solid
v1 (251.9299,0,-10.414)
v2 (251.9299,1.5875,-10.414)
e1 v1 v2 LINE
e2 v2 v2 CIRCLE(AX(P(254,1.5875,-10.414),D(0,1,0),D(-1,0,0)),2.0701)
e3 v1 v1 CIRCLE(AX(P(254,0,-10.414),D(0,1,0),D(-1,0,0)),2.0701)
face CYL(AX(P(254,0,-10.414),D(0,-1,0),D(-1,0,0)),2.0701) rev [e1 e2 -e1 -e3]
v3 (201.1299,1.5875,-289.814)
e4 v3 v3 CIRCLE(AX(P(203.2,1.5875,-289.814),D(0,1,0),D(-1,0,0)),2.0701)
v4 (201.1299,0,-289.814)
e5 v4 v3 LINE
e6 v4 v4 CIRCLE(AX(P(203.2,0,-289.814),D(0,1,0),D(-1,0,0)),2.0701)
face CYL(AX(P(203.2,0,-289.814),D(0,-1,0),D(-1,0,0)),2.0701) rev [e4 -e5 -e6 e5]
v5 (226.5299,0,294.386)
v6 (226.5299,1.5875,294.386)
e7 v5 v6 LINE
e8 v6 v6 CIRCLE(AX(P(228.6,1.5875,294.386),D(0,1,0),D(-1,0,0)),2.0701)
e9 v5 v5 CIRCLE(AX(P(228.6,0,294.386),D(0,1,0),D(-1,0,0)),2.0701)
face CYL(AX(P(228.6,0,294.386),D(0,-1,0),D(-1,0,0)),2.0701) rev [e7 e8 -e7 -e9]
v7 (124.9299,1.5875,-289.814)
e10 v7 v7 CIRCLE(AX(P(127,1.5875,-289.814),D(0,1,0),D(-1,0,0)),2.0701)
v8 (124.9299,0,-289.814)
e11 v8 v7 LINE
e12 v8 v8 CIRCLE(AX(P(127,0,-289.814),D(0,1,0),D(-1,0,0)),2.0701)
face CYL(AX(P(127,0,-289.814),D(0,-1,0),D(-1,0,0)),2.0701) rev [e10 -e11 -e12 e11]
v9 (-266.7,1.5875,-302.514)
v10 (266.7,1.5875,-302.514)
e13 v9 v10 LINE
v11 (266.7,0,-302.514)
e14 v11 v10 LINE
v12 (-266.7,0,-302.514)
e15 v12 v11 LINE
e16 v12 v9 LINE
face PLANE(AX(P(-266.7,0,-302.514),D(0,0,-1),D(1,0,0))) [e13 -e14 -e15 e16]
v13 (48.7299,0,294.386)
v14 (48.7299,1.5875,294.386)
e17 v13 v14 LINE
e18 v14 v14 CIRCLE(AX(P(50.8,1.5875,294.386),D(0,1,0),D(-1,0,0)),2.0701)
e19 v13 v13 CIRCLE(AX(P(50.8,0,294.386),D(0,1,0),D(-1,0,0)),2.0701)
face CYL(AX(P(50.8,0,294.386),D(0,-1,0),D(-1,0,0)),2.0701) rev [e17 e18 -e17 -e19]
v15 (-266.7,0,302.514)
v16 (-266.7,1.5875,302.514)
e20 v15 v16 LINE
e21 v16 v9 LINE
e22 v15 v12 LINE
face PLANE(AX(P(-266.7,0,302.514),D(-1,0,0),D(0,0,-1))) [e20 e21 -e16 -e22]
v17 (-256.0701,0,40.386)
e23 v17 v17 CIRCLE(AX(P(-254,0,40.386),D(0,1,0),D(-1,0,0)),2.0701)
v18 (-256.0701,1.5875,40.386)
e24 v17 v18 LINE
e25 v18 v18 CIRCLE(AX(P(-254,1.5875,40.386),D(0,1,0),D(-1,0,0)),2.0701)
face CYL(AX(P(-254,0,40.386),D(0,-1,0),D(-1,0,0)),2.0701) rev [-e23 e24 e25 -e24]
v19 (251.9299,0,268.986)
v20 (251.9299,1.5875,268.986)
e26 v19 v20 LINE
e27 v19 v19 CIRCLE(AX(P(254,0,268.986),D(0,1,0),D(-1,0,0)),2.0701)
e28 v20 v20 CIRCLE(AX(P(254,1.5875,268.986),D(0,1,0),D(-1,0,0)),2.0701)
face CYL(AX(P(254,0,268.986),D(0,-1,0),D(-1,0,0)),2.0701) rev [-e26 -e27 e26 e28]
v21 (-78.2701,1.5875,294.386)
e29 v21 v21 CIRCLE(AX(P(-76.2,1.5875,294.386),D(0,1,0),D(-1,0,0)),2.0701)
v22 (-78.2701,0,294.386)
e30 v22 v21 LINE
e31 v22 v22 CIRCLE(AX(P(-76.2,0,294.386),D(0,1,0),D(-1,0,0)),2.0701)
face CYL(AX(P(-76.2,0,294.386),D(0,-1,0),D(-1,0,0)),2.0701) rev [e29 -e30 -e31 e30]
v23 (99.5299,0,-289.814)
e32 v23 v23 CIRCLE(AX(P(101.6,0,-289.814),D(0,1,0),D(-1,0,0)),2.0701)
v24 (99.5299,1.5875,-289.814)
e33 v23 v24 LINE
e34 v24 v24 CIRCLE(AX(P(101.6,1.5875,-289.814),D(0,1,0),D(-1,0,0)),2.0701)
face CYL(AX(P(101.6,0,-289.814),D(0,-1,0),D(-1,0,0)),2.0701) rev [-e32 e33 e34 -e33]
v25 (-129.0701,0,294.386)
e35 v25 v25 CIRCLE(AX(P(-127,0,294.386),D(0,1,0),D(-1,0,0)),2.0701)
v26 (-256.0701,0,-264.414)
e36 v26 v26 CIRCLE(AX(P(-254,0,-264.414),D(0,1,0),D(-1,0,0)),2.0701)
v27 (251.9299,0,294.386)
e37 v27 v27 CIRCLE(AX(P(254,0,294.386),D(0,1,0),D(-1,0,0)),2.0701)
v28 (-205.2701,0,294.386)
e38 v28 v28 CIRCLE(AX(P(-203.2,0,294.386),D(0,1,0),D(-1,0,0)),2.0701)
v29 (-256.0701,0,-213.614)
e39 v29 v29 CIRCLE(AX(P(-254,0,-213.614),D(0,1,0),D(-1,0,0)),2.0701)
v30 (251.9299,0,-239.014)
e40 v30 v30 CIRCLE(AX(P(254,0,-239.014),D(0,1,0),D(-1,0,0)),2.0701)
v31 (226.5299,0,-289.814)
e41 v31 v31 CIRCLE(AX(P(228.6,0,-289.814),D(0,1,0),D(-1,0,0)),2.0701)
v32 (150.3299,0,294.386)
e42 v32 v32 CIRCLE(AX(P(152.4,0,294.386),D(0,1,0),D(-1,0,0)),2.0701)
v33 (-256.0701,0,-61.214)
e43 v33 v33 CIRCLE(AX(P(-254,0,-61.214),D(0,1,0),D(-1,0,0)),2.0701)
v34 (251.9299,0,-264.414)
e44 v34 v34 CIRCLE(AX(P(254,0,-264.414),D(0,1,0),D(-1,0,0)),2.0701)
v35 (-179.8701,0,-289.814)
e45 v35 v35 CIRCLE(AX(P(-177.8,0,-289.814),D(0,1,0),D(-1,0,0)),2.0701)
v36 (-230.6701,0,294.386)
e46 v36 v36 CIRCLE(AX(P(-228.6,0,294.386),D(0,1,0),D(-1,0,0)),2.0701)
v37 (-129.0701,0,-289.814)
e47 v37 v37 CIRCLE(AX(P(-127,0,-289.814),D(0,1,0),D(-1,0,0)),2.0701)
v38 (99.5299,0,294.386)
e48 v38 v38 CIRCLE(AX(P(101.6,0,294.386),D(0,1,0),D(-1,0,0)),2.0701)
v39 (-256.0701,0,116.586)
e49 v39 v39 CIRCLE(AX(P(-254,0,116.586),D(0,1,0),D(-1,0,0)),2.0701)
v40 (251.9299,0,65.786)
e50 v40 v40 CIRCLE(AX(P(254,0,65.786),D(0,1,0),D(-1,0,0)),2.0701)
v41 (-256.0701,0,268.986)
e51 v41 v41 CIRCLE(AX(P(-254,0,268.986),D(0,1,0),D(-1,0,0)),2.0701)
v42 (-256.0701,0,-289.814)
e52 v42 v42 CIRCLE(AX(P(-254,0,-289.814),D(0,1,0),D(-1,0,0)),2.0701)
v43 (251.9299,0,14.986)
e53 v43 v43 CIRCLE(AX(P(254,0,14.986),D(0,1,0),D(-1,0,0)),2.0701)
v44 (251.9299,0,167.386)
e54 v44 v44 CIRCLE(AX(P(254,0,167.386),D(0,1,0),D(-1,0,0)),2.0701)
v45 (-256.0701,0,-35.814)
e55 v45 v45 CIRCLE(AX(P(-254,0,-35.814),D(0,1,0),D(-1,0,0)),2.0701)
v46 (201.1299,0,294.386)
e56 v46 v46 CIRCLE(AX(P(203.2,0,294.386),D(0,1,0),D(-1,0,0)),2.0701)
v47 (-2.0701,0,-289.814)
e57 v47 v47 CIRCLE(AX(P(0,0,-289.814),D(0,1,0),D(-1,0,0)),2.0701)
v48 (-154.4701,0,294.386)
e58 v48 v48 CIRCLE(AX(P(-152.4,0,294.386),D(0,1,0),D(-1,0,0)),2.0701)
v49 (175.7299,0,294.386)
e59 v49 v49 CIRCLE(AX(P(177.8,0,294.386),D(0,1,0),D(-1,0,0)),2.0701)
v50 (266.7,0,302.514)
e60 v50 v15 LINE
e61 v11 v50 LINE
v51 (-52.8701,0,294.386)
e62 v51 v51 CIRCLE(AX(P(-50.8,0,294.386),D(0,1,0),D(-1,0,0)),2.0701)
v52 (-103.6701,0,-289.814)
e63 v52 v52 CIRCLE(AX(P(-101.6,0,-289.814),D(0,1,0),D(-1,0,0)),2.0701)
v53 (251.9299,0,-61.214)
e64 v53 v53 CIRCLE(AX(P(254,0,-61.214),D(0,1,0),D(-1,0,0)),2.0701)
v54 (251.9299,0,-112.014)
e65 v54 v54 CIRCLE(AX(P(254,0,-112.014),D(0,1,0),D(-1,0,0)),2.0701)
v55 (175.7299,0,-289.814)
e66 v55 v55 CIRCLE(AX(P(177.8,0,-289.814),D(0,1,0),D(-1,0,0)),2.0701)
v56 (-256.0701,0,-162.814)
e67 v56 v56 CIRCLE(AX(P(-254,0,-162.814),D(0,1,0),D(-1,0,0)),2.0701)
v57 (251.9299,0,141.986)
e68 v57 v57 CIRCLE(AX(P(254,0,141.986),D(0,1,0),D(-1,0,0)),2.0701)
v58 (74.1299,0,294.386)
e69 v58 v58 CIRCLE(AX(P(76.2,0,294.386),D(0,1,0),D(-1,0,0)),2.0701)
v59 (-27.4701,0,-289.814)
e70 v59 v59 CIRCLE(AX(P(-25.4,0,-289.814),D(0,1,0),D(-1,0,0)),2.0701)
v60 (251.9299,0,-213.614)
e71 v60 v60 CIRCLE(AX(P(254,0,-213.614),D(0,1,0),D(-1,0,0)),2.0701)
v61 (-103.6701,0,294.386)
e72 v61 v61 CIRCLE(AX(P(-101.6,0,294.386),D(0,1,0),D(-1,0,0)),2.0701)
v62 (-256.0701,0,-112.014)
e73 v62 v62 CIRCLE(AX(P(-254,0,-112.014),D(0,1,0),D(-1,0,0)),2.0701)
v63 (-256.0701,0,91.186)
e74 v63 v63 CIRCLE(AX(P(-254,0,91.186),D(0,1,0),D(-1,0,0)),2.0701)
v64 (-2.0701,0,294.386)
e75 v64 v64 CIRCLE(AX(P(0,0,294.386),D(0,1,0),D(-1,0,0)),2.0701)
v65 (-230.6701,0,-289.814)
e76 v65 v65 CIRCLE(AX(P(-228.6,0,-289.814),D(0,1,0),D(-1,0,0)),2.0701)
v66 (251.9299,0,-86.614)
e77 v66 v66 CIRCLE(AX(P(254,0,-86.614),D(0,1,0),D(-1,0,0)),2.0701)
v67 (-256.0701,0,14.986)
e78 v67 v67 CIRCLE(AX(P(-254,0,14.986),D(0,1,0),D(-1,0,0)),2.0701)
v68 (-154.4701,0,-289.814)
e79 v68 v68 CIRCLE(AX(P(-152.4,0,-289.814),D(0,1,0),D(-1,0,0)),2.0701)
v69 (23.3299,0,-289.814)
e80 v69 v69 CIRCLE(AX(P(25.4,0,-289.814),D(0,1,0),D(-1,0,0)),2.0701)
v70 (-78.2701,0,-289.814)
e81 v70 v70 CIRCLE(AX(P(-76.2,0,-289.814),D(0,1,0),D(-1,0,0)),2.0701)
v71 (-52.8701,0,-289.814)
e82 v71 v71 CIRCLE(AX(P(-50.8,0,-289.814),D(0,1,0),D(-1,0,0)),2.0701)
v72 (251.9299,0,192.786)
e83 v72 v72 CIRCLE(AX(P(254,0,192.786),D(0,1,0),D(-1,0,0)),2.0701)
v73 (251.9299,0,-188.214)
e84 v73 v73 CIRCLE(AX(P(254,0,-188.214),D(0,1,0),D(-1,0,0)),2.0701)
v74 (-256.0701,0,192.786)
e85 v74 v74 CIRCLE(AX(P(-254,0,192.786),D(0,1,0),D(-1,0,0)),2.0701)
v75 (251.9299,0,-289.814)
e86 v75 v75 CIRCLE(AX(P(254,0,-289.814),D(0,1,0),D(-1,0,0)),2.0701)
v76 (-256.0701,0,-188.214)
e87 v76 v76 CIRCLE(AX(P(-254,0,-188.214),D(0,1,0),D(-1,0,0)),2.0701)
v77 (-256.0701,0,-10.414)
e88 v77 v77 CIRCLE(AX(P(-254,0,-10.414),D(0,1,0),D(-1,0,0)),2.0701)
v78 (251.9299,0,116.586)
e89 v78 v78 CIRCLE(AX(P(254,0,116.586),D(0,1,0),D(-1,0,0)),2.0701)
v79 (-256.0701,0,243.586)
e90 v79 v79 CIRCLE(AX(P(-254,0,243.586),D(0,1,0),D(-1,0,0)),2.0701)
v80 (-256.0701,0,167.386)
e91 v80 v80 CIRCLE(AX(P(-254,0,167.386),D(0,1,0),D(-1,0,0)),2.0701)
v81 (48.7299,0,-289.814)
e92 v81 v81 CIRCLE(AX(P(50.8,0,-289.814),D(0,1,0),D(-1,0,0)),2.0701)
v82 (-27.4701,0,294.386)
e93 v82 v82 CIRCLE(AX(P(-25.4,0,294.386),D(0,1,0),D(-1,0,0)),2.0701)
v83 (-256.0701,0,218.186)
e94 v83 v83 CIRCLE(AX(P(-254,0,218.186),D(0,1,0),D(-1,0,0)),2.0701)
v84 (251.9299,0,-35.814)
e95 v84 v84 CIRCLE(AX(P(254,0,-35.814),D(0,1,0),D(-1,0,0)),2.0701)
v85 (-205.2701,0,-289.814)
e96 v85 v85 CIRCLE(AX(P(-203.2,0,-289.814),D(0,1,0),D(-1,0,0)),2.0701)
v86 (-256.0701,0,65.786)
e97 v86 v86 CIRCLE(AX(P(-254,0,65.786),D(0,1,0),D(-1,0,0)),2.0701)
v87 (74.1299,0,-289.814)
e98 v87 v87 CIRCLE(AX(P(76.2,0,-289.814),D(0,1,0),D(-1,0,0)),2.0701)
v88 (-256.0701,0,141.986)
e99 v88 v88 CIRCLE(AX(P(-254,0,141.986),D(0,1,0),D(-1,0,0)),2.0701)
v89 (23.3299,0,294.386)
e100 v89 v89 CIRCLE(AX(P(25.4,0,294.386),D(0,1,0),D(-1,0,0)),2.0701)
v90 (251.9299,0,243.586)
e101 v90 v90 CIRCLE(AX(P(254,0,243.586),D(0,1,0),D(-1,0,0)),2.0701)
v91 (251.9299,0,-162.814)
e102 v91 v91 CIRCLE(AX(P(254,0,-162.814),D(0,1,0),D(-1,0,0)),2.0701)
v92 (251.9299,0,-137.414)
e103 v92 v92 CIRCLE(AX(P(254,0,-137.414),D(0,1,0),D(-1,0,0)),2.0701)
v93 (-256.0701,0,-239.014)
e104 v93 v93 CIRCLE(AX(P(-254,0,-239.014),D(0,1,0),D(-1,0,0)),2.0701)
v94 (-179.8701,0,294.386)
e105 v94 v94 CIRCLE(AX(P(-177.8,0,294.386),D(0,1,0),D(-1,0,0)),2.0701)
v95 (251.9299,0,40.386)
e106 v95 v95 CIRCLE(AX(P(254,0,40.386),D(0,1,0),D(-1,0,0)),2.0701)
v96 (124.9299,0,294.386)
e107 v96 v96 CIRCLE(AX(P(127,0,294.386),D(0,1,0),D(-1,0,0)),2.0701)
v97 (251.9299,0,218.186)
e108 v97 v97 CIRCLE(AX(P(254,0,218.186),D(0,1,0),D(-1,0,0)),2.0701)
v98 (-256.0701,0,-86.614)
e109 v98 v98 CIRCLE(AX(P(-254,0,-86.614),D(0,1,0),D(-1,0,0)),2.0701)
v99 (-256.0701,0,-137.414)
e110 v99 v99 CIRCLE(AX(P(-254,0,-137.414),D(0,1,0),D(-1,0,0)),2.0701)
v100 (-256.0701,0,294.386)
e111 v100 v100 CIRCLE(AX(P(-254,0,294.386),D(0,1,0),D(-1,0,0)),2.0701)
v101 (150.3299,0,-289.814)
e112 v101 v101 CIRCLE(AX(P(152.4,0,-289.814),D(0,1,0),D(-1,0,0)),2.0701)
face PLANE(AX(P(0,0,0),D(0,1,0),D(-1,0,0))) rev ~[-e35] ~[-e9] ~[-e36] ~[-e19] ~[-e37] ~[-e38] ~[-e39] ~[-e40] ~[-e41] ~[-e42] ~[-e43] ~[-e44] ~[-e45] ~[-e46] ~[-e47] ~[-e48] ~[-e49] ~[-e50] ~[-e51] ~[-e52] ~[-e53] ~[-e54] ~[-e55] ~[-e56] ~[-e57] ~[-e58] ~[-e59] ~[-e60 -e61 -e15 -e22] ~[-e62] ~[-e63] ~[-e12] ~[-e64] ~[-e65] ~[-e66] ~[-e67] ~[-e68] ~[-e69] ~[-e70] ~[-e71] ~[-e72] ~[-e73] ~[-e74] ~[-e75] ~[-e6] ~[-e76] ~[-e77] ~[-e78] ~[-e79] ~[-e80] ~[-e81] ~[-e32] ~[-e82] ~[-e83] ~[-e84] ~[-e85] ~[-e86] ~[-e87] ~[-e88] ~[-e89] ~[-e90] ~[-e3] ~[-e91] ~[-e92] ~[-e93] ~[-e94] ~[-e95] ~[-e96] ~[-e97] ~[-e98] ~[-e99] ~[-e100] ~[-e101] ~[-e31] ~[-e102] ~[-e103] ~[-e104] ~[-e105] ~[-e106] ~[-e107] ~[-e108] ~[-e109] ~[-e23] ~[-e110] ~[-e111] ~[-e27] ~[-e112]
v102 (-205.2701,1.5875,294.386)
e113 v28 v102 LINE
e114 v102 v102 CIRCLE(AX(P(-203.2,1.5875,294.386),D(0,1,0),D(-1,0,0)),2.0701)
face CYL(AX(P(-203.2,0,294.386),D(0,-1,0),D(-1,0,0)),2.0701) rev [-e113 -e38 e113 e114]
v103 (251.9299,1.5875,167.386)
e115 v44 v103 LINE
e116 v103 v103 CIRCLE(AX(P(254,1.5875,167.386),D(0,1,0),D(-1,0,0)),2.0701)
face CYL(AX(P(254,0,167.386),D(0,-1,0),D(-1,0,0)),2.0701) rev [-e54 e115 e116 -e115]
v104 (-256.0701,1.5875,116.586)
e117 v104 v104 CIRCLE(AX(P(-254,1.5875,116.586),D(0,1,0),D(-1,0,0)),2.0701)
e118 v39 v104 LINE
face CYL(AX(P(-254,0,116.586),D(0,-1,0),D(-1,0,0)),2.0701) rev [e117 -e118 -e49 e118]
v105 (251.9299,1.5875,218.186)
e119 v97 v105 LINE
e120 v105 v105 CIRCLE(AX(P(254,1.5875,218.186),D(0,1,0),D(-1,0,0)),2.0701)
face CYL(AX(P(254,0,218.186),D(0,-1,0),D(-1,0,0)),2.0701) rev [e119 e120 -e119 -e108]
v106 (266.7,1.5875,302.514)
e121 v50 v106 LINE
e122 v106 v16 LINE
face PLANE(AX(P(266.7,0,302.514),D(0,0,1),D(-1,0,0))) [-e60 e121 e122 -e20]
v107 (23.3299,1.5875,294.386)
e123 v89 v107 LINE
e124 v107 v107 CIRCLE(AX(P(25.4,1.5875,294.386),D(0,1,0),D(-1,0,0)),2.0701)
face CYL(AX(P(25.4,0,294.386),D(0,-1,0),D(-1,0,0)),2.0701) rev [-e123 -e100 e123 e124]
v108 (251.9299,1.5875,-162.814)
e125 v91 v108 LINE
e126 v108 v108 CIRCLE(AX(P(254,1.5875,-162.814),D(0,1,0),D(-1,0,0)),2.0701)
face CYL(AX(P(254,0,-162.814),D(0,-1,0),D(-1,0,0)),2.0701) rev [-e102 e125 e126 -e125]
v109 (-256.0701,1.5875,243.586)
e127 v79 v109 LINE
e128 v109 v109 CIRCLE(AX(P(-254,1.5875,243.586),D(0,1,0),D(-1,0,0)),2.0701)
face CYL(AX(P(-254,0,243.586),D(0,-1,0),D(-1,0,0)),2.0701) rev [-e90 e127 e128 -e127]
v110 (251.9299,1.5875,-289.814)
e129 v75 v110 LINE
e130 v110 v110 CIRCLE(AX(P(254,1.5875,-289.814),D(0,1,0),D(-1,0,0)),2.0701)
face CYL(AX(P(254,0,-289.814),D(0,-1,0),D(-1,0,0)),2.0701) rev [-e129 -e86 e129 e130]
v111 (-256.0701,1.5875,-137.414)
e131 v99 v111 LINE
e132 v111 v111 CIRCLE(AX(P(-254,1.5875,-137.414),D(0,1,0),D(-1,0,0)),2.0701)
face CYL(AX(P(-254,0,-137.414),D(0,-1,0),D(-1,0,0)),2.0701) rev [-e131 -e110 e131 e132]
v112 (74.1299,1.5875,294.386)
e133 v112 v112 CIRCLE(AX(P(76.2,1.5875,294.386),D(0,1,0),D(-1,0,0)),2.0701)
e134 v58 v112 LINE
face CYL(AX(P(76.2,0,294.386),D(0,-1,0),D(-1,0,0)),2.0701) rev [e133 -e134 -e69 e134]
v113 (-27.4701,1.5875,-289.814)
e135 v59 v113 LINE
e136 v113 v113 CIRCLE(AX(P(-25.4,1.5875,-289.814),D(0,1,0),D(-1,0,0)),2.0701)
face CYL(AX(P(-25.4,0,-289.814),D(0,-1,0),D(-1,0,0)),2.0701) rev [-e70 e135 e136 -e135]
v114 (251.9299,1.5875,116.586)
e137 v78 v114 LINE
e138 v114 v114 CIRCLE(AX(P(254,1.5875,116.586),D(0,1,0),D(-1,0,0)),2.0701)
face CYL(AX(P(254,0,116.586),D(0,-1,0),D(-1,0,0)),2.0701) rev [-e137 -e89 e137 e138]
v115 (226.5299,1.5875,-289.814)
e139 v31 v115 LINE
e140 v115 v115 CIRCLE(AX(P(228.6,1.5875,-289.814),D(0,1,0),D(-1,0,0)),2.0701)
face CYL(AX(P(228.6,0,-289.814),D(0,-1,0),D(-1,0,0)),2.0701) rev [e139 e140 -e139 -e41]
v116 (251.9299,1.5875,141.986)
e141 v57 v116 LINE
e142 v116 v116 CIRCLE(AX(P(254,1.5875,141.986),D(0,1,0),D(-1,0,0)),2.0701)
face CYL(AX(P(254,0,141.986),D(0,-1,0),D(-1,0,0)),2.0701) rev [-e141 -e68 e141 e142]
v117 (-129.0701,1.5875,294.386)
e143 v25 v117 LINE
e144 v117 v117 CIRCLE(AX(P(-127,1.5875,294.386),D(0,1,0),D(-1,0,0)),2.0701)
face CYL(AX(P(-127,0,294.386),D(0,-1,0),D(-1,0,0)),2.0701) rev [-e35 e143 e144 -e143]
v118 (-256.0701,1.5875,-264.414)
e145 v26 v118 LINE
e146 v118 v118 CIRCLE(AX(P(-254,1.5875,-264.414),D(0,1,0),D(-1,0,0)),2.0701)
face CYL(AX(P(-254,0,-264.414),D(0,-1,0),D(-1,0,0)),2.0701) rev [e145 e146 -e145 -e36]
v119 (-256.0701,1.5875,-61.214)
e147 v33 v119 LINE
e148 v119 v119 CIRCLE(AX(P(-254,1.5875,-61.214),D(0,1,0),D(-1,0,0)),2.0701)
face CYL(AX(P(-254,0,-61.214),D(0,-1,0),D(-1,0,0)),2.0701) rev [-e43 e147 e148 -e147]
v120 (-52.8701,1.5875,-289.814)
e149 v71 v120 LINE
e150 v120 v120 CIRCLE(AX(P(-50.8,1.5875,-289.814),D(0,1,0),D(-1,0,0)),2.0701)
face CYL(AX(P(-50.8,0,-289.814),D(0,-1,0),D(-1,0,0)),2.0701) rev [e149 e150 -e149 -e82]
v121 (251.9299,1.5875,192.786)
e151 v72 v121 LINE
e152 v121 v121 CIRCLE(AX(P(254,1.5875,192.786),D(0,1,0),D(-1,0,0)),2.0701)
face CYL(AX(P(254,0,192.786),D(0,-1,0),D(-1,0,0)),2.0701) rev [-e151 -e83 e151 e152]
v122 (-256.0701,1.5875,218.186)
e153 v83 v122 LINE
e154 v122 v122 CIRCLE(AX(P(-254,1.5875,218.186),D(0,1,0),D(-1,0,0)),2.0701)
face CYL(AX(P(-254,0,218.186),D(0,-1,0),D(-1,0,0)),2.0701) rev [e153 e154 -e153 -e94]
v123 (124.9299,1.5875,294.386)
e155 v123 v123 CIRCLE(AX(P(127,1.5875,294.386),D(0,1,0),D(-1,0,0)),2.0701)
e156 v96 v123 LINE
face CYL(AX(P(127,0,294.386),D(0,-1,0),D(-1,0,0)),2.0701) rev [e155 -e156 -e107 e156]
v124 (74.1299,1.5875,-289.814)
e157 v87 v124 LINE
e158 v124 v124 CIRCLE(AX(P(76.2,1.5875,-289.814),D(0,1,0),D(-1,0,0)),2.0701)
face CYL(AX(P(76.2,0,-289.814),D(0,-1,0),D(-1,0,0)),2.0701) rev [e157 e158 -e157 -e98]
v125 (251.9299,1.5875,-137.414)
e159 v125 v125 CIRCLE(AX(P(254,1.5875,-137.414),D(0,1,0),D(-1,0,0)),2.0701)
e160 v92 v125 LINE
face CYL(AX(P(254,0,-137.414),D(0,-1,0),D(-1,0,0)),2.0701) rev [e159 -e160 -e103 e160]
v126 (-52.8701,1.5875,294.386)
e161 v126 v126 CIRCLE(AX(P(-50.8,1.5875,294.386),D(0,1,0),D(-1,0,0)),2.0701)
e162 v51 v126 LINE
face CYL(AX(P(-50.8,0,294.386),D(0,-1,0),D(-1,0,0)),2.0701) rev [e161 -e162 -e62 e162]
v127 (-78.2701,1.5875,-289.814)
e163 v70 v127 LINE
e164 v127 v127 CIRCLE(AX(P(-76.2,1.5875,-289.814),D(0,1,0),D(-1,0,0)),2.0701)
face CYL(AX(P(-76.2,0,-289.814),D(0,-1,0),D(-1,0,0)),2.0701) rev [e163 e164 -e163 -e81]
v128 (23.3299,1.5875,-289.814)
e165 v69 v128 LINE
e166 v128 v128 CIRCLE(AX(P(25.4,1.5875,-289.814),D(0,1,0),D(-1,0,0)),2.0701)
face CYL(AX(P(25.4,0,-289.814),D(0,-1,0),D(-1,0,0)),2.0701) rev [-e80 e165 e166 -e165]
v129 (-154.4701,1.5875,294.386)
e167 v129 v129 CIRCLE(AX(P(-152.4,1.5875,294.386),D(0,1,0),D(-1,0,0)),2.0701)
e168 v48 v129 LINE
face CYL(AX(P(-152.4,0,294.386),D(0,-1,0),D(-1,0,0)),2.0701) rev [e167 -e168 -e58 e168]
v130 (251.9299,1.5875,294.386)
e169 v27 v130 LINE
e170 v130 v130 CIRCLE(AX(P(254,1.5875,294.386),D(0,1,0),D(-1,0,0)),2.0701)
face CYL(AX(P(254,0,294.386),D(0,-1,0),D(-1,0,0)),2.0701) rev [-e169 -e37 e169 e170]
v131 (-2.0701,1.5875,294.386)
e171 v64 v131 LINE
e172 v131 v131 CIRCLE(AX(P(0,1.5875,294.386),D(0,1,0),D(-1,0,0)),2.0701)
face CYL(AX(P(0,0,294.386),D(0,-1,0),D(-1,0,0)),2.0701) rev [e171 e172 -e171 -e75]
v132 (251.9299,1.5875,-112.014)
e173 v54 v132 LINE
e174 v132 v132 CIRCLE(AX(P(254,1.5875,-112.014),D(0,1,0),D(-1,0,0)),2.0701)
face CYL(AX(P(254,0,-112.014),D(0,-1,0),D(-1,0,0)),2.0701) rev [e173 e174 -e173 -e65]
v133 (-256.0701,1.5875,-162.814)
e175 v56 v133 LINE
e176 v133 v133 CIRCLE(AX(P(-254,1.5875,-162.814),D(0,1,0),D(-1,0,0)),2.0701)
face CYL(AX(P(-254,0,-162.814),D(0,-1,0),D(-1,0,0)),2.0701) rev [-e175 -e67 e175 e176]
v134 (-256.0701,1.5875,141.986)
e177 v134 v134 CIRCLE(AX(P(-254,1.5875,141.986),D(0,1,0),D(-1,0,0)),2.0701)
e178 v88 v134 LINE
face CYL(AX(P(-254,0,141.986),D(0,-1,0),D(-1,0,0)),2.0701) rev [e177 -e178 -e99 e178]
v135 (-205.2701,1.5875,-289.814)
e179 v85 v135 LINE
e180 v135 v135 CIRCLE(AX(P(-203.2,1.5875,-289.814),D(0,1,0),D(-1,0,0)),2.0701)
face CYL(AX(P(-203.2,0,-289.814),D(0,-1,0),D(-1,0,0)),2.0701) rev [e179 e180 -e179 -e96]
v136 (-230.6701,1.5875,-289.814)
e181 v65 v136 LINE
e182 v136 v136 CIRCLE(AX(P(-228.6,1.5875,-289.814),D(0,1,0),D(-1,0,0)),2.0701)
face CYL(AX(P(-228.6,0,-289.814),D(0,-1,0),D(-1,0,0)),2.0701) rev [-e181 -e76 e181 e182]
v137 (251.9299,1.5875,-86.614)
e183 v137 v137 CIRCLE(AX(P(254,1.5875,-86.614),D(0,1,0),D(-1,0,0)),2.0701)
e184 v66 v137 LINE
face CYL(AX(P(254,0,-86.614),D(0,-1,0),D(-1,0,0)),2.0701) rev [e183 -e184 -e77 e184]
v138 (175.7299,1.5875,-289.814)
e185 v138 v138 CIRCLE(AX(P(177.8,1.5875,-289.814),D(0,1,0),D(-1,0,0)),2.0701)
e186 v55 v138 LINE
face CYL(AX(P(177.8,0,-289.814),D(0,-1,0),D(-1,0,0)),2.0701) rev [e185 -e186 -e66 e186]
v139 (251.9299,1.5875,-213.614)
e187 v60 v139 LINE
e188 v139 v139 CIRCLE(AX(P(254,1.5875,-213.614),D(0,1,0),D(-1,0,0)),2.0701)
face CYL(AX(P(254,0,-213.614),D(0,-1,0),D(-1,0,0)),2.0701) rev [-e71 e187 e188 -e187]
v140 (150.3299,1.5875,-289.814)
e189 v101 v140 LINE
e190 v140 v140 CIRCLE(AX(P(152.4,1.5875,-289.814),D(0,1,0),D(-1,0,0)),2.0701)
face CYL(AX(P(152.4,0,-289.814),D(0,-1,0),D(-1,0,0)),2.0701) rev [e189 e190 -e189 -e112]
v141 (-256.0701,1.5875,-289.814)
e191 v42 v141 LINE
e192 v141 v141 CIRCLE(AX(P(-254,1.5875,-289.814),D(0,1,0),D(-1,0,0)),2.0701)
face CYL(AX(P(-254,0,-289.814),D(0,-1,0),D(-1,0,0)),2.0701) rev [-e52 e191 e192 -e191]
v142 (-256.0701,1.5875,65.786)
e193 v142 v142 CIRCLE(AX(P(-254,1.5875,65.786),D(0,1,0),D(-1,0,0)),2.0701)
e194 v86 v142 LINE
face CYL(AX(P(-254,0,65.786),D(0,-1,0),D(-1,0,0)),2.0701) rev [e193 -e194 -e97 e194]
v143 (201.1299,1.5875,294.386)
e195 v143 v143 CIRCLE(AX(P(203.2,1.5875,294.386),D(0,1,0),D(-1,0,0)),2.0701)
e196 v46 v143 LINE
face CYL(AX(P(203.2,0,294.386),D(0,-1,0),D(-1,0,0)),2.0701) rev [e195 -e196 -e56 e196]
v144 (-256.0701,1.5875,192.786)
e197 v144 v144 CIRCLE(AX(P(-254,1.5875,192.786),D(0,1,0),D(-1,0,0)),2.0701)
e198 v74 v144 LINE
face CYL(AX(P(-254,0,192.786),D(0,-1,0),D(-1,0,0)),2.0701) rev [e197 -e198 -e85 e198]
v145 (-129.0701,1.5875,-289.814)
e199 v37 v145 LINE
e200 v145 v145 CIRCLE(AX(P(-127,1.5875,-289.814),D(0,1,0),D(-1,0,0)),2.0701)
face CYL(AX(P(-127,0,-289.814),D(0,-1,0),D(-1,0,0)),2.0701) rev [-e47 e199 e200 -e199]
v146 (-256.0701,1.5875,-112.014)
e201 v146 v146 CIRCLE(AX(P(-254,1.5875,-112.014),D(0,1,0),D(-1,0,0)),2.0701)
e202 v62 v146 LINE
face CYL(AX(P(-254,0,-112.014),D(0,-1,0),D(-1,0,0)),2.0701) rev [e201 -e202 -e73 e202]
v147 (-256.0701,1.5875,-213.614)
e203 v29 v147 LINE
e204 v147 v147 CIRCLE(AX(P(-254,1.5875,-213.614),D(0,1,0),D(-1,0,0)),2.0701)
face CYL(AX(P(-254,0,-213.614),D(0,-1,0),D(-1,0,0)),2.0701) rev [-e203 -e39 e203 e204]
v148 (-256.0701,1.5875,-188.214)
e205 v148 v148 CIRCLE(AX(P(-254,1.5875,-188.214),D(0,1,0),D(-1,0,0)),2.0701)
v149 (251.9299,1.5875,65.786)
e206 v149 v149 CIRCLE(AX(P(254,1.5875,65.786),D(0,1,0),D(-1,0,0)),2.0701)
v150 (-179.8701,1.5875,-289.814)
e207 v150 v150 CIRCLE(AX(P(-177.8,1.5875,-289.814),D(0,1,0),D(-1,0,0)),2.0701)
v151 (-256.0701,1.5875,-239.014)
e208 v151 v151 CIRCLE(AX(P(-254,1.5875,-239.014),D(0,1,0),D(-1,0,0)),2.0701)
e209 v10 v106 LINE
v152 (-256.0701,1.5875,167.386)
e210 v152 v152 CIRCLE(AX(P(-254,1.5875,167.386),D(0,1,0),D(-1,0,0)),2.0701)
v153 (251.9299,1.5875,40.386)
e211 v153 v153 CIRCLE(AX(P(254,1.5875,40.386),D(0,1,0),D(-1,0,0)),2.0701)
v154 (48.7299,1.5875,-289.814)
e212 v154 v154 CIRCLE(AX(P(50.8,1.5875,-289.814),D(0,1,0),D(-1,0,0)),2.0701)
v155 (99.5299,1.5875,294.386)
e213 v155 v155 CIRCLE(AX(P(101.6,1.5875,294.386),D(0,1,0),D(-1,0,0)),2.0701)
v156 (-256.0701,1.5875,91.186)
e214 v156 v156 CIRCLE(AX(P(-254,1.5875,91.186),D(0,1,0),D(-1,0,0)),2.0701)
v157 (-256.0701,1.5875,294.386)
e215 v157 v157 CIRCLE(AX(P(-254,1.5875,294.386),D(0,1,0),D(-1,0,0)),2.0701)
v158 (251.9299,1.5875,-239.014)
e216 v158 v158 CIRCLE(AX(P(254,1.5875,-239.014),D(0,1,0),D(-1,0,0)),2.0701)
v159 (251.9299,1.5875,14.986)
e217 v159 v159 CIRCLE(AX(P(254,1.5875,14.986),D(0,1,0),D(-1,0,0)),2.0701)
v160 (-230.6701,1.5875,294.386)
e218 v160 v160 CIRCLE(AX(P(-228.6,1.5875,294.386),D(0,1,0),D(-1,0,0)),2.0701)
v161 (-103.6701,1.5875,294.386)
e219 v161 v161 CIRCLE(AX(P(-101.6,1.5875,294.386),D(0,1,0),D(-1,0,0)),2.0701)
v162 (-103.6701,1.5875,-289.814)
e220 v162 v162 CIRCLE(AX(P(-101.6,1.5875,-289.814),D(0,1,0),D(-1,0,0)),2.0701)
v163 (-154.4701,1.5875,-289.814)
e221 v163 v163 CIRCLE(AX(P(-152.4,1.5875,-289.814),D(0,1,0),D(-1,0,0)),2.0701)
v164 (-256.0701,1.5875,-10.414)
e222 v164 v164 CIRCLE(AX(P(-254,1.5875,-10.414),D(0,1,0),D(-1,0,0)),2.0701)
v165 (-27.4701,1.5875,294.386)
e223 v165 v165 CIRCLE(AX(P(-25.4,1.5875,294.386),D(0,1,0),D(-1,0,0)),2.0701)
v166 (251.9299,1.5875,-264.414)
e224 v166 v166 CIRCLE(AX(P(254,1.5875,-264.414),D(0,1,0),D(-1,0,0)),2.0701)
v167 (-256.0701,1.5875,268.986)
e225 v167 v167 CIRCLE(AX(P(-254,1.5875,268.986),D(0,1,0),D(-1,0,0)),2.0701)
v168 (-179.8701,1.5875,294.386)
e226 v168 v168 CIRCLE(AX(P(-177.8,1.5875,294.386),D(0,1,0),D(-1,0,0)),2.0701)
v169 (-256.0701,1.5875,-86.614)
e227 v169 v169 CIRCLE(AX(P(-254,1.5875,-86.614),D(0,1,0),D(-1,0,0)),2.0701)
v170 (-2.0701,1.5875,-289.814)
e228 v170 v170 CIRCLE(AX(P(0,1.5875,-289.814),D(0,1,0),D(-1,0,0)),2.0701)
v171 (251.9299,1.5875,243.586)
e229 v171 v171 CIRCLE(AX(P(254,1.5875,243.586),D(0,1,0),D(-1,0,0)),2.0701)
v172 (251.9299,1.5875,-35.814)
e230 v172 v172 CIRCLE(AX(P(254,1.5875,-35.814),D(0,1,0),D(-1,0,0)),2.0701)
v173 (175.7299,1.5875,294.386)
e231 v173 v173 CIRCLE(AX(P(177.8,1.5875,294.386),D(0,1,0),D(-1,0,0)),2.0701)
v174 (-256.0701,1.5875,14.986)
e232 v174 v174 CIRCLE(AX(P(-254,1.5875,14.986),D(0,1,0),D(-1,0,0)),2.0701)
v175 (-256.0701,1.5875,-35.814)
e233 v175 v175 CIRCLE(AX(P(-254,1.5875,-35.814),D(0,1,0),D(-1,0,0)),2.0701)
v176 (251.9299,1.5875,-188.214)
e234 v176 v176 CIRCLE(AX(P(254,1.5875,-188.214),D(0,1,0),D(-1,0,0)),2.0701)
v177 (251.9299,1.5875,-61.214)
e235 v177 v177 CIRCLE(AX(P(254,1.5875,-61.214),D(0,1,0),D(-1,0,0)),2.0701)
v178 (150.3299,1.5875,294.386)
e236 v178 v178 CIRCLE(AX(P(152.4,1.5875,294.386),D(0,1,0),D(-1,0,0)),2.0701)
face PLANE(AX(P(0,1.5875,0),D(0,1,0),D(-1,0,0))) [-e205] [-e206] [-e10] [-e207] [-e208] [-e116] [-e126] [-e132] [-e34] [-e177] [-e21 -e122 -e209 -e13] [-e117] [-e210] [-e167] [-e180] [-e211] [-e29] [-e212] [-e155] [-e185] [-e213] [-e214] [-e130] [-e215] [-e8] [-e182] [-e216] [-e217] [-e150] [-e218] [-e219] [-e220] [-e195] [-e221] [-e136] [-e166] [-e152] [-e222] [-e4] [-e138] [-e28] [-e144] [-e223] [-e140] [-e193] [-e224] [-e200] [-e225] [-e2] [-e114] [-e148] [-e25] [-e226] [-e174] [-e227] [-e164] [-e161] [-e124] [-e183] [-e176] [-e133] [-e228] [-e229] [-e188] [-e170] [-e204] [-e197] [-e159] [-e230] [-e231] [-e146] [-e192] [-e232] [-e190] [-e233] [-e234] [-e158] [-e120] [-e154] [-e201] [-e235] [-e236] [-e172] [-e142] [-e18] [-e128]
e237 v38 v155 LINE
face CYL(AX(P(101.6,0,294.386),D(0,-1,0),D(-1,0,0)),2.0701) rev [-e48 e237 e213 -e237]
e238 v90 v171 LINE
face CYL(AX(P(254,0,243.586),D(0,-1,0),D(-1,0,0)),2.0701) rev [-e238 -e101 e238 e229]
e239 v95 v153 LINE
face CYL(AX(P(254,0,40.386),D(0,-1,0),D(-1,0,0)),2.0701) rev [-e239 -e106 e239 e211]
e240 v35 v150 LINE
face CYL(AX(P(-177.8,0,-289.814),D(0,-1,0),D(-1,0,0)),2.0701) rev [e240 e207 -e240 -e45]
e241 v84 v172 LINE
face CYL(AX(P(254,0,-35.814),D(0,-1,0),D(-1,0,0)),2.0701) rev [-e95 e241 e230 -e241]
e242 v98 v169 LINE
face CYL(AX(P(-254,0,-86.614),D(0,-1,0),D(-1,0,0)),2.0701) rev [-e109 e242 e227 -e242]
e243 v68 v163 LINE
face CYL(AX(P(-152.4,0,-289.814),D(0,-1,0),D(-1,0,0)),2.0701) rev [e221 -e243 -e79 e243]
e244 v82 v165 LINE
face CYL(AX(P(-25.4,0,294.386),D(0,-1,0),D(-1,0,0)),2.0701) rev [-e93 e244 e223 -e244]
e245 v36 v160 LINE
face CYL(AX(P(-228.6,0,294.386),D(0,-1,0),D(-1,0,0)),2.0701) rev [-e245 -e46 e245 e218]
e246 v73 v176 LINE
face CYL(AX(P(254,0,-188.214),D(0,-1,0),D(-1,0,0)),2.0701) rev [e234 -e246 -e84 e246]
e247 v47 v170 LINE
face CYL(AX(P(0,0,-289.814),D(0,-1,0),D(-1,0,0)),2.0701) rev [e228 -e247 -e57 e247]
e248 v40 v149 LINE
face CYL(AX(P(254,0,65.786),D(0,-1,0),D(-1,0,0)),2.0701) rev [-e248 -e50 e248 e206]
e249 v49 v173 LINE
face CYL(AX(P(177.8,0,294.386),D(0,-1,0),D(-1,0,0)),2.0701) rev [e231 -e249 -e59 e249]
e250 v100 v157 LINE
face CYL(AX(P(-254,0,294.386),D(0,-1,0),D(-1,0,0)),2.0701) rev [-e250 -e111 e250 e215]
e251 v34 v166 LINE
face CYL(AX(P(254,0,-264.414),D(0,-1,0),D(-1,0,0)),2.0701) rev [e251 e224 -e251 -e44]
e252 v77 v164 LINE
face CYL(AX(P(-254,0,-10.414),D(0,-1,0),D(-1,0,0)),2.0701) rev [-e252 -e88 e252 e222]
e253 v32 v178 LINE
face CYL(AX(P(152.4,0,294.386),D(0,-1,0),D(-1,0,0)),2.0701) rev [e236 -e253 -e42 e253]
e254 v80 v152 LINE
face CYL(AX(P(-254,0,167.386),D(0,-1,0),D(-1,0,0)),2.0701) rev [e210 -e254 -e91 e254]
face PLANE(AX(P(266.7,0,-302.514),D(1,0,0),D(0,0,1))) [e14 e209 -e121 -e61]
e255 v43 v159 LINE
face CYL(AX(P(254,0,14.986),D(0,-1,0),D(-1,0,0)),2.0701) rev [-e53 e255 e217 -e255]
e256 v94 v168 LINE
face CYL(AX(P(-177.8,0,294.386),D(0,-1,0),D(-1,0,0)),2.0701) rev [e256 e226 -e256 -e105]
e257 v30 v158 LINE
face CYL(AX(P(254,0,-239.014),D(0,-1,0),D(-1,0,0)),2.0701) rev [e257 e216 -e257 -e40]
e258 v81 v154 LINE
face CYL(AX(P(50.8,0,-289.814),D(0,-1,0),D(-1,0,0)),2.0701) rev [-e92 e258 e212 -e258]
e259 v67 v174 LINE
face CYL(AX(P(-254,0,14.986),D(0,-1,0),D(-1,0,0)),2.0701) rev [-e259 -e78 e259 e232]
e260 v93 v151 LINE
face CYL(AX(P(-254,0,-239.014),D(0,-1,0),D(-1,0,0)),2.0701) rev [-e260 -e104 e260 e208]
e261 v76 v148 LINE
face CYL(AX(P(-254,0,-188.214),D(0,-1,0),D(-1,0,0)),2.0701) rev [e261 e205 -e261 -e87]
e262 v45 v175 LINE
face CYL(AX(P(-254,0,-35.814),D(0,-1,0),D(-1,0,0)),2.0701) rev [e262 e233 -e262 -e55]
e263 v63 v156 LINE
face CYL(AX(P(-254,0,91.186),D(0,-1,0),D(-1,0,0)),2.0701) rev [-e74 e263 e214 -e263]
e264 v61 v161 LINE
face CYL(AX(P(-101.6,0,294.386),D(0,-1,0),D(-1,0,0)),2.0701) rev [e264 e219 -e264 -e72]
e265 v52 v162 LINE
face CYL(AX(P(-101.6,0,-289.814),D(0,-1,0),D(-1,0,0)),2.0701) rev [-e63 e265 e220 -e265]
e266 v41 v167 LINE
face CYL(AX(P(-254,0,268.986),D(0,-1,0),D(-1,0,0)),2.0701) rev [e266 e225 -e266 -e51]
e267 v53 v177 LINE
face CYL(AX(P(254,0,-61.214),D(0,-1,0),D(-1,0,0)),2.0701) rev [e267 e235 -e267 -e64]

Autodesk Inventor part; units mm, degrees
ref_plane "YZ Plane" through (0, 0, 0) normal (1, 0, 0) x (0, 1, 0)
ref_plane "XZ Plane" through (0, 0, 0) normal (0, 1, 0) x (-1, 0, 0)
ref_plane "XY Plane" through (0, 0, 0) normal (0, 0, 1) x (1, 0, 0)
sketch "Sketch1" plane through (0, 0, 0) normal (0, 1, 0) x (-1, 0, 0)
  line L0 (-266.7, 302.514) -> (266.7, 302.514)
  line L1 (266.7, 302.514) -> (266.7, -302.514)
  line L2 (266.7, -302.514) -> (-266.7, -302.514)
  line L3 (-266.7, -302.514) -> (-266.7, 302.514)
  line L4 (-266.7, 302.514) -> (266.7, -302.514) construction
  line L5 (266.7, 302.514) -> (-266.7, -302.514) construction
  circle A0 centre (254, -289.814) radius 2.0701
  circle A1 centre (228.6, -289.814) radius 2.0701
  circle A2 centre (203.2, -289.814) radius 2.0701
  circle A3 centre (177.8, -289.814) radius 2.0701
  circle A4 centre (152.4, -289.814) radius 2.0701
  circle A5 centre (127, -289.814) radius 2.0701
  circle A6 centre (101.6, -289.814) radius 2.0701
  circle A7 centre (76.2, -289.814) radius 2.0701
  circle A8 centre (50.8, -289.814) radius 2.0701
  circle A9 centre (254, -264.414) radius 2.0701
  circle A10 centre (254, -239.014) radius 2.0701
  circle A11 centre (254, -213.614) radius 2.0701
  circle A12 centre (254, -188.214) radius 2.0701
  circle A13 centre (254, -162.814) radius 2.0701
  circle A14 centre (254, -137.414) radius 2.0701
  circle A15 centre (254, -112.014) radius 2.0701
  circle A16 centre (254, -86.614) radius 2.0701
  circle A17 centre (254, -61.214) radius 2.0701
  circle A18 centre (254, -35.814) radius 2.0701
  circle A19 centre (254, -10.414) radius 2.0701
  circle A20 centre (254, 14.986) radius 2.0701
  circle A21 centre (254, 40.386) radius 2.0701
  circle A22 centre (254, 65.786) radius 2.0701
  circle A23 centre (254, 91.186) radius 2.0701
  circle A24 centre (254, 116.586) radius 2.0701
  circle A25 centre (254, 141.986) radius 2.0701
  circle A26 centre (254, 167.386) radius 2.0701
  circle A27 centre (254, 192.786) radius 2.0701
  circle A28 centre (254, 218.186) radius 2.0701
  circle A29 centre (254, 243.586) radius 2.0701
  circle A30 centre (254, 268.986) radius 2.0701
  circle A31 centre (254, 294.386) radius 2.0701
  circle A32 centre (228.6, 294.386) radius 2.0701
  circle A33 centre (203.2, 294.386) radius 2.0701
  circle A34 centre (177.8, 294.386) radius 2.0701
  circle A35 centre (152.4, 294.386) radius 2.0701
  circle A36 centre (127, 294.386) radius 2.0701
  circle A37 centre (101.6, 294.386) radius 2.0701
  circle A38 centre (76.2, 294.386) radius 2.0701
  circle A39 centre (50.8, 294.386) radius 2.0701
  circle A40 centre (154.4701, -175.514) radius 38.1 construction
  circle A41 centre (25.4, -289.814) radius 2.0701
  circle A42 centre (0, -289.814) radius 2.0701
  circle A43 centre (-25.4, -289.814) radius 2.0701
  circle A44 centre (-50.8, -289.814) radius 2.0701
  circle A45 centre (-76.2, -289.814) radius 2.0701
  circle A46 centre (-101.6, -289.814) radius 2.0701
  circle A47 centre (-127, -289.814) radius 2.0701
  circle A48 centre (-152.4, -289.814) radius 2.0701
  circle A49 centre (-177.8, -289.814) radius 2.0701
  circle A50 centre (-203.2, -289.814) radius 2.0701
  circle A51 centre (-228.6, -289.814) radius 2.0701
  circle A52 centre (25.4, 294.386) radius 2.0701
  circle A53 centre (0, 294.386) radius 2.0701
  circle A54 centre (-25.4, 294.386) radius 2.0701
  circle A55 centre (-50.8, 294.386) radius 2.0701
  circle A56 centre (-76.2, 294.386) radius 2.0701
  circle A57 centre (-101.6, 294.386) radius 2.0701
  circle A58 centre (-127, 294.386) radius 2.0701
  circle A59 centre (-152.4, 294.386) radius 2.0701
  circle A60 centre (-177.8, 294.386) radius 2.0701
  circle A61 centre (-203.2, 294.386) radius 2.0701
  circle A62 centre (-228.6, 294.386) radius 2.0701
  line L6 (0, -302.514) -> (0, 302.514) construction
  circle A63 centre (-254, -289.814) radius 2.0701
  circle A64 centre (-254, -264.414) radius 2.0701
  circle A65 centre (-254, -239.014) radius 2.0701
  circle A66 centre (-254, -213.614) radius 2.0701
  circle A67 centre (-254, -188.214) radius 2.0701
  circle A68 centre (-254, -162.814) radius 2.0701
  circle A69 centre (-254, -137.414) radius 2.0701
  circle A70 centre (-254, -112.014) radius 2.0701
  circle A71 centre (-254, -86.614) radius 2.0701
  circle A72 centre (-254, -61.214) radius 2.0701
  circle A73 centre (-254, -35.814) radius 2.0701
  circle A74 centre (-254, -10.414) radius 2.0701
  circle A75 centre (-254, 14.986) radius 2.0701
  circle A76 centre (-254, 40.386) radius 2.0701
  circle A77 centre (-254, 65.786) radius 2.0701
  circle A78 centre (-254, 116.586) radius 2.0701
  circle A79 centre (-254, 141.986) radius 2.0701
  circle A80 centre (-254, 167.386) radius 2.0701
  circle A81 centre (-254, 192.786) radius 2.0701
  circle A82 centre (-254, 218.186) radius 2.0701
  circle A83 centre (-254, 243.586) radius 2.0701
  circle A84 centre (-254, 268.986) radius 2.0701
  circle A85 centre (-254, 294.386) radius 2.0701
  point P0 (0, 0)
  dimension "d0" = 605.028
  dimension "d1" = 533.4
  dimension "d5" = 4.1402
  dimension "d6" = 12.7
  dimension "d7" = 12.7
  dimension "d10" = 25.4
  dimension "d17" = 25.4
  dimension "d24" = 25.4
  dimension "d36" = 76.2
  dimension "d37" = 127
extrude "Extrusion1" add sketch "Sketch1" along normal blind 1.5875
properties part number "EBox-BottomPlate" material "Aluminum 6061"
